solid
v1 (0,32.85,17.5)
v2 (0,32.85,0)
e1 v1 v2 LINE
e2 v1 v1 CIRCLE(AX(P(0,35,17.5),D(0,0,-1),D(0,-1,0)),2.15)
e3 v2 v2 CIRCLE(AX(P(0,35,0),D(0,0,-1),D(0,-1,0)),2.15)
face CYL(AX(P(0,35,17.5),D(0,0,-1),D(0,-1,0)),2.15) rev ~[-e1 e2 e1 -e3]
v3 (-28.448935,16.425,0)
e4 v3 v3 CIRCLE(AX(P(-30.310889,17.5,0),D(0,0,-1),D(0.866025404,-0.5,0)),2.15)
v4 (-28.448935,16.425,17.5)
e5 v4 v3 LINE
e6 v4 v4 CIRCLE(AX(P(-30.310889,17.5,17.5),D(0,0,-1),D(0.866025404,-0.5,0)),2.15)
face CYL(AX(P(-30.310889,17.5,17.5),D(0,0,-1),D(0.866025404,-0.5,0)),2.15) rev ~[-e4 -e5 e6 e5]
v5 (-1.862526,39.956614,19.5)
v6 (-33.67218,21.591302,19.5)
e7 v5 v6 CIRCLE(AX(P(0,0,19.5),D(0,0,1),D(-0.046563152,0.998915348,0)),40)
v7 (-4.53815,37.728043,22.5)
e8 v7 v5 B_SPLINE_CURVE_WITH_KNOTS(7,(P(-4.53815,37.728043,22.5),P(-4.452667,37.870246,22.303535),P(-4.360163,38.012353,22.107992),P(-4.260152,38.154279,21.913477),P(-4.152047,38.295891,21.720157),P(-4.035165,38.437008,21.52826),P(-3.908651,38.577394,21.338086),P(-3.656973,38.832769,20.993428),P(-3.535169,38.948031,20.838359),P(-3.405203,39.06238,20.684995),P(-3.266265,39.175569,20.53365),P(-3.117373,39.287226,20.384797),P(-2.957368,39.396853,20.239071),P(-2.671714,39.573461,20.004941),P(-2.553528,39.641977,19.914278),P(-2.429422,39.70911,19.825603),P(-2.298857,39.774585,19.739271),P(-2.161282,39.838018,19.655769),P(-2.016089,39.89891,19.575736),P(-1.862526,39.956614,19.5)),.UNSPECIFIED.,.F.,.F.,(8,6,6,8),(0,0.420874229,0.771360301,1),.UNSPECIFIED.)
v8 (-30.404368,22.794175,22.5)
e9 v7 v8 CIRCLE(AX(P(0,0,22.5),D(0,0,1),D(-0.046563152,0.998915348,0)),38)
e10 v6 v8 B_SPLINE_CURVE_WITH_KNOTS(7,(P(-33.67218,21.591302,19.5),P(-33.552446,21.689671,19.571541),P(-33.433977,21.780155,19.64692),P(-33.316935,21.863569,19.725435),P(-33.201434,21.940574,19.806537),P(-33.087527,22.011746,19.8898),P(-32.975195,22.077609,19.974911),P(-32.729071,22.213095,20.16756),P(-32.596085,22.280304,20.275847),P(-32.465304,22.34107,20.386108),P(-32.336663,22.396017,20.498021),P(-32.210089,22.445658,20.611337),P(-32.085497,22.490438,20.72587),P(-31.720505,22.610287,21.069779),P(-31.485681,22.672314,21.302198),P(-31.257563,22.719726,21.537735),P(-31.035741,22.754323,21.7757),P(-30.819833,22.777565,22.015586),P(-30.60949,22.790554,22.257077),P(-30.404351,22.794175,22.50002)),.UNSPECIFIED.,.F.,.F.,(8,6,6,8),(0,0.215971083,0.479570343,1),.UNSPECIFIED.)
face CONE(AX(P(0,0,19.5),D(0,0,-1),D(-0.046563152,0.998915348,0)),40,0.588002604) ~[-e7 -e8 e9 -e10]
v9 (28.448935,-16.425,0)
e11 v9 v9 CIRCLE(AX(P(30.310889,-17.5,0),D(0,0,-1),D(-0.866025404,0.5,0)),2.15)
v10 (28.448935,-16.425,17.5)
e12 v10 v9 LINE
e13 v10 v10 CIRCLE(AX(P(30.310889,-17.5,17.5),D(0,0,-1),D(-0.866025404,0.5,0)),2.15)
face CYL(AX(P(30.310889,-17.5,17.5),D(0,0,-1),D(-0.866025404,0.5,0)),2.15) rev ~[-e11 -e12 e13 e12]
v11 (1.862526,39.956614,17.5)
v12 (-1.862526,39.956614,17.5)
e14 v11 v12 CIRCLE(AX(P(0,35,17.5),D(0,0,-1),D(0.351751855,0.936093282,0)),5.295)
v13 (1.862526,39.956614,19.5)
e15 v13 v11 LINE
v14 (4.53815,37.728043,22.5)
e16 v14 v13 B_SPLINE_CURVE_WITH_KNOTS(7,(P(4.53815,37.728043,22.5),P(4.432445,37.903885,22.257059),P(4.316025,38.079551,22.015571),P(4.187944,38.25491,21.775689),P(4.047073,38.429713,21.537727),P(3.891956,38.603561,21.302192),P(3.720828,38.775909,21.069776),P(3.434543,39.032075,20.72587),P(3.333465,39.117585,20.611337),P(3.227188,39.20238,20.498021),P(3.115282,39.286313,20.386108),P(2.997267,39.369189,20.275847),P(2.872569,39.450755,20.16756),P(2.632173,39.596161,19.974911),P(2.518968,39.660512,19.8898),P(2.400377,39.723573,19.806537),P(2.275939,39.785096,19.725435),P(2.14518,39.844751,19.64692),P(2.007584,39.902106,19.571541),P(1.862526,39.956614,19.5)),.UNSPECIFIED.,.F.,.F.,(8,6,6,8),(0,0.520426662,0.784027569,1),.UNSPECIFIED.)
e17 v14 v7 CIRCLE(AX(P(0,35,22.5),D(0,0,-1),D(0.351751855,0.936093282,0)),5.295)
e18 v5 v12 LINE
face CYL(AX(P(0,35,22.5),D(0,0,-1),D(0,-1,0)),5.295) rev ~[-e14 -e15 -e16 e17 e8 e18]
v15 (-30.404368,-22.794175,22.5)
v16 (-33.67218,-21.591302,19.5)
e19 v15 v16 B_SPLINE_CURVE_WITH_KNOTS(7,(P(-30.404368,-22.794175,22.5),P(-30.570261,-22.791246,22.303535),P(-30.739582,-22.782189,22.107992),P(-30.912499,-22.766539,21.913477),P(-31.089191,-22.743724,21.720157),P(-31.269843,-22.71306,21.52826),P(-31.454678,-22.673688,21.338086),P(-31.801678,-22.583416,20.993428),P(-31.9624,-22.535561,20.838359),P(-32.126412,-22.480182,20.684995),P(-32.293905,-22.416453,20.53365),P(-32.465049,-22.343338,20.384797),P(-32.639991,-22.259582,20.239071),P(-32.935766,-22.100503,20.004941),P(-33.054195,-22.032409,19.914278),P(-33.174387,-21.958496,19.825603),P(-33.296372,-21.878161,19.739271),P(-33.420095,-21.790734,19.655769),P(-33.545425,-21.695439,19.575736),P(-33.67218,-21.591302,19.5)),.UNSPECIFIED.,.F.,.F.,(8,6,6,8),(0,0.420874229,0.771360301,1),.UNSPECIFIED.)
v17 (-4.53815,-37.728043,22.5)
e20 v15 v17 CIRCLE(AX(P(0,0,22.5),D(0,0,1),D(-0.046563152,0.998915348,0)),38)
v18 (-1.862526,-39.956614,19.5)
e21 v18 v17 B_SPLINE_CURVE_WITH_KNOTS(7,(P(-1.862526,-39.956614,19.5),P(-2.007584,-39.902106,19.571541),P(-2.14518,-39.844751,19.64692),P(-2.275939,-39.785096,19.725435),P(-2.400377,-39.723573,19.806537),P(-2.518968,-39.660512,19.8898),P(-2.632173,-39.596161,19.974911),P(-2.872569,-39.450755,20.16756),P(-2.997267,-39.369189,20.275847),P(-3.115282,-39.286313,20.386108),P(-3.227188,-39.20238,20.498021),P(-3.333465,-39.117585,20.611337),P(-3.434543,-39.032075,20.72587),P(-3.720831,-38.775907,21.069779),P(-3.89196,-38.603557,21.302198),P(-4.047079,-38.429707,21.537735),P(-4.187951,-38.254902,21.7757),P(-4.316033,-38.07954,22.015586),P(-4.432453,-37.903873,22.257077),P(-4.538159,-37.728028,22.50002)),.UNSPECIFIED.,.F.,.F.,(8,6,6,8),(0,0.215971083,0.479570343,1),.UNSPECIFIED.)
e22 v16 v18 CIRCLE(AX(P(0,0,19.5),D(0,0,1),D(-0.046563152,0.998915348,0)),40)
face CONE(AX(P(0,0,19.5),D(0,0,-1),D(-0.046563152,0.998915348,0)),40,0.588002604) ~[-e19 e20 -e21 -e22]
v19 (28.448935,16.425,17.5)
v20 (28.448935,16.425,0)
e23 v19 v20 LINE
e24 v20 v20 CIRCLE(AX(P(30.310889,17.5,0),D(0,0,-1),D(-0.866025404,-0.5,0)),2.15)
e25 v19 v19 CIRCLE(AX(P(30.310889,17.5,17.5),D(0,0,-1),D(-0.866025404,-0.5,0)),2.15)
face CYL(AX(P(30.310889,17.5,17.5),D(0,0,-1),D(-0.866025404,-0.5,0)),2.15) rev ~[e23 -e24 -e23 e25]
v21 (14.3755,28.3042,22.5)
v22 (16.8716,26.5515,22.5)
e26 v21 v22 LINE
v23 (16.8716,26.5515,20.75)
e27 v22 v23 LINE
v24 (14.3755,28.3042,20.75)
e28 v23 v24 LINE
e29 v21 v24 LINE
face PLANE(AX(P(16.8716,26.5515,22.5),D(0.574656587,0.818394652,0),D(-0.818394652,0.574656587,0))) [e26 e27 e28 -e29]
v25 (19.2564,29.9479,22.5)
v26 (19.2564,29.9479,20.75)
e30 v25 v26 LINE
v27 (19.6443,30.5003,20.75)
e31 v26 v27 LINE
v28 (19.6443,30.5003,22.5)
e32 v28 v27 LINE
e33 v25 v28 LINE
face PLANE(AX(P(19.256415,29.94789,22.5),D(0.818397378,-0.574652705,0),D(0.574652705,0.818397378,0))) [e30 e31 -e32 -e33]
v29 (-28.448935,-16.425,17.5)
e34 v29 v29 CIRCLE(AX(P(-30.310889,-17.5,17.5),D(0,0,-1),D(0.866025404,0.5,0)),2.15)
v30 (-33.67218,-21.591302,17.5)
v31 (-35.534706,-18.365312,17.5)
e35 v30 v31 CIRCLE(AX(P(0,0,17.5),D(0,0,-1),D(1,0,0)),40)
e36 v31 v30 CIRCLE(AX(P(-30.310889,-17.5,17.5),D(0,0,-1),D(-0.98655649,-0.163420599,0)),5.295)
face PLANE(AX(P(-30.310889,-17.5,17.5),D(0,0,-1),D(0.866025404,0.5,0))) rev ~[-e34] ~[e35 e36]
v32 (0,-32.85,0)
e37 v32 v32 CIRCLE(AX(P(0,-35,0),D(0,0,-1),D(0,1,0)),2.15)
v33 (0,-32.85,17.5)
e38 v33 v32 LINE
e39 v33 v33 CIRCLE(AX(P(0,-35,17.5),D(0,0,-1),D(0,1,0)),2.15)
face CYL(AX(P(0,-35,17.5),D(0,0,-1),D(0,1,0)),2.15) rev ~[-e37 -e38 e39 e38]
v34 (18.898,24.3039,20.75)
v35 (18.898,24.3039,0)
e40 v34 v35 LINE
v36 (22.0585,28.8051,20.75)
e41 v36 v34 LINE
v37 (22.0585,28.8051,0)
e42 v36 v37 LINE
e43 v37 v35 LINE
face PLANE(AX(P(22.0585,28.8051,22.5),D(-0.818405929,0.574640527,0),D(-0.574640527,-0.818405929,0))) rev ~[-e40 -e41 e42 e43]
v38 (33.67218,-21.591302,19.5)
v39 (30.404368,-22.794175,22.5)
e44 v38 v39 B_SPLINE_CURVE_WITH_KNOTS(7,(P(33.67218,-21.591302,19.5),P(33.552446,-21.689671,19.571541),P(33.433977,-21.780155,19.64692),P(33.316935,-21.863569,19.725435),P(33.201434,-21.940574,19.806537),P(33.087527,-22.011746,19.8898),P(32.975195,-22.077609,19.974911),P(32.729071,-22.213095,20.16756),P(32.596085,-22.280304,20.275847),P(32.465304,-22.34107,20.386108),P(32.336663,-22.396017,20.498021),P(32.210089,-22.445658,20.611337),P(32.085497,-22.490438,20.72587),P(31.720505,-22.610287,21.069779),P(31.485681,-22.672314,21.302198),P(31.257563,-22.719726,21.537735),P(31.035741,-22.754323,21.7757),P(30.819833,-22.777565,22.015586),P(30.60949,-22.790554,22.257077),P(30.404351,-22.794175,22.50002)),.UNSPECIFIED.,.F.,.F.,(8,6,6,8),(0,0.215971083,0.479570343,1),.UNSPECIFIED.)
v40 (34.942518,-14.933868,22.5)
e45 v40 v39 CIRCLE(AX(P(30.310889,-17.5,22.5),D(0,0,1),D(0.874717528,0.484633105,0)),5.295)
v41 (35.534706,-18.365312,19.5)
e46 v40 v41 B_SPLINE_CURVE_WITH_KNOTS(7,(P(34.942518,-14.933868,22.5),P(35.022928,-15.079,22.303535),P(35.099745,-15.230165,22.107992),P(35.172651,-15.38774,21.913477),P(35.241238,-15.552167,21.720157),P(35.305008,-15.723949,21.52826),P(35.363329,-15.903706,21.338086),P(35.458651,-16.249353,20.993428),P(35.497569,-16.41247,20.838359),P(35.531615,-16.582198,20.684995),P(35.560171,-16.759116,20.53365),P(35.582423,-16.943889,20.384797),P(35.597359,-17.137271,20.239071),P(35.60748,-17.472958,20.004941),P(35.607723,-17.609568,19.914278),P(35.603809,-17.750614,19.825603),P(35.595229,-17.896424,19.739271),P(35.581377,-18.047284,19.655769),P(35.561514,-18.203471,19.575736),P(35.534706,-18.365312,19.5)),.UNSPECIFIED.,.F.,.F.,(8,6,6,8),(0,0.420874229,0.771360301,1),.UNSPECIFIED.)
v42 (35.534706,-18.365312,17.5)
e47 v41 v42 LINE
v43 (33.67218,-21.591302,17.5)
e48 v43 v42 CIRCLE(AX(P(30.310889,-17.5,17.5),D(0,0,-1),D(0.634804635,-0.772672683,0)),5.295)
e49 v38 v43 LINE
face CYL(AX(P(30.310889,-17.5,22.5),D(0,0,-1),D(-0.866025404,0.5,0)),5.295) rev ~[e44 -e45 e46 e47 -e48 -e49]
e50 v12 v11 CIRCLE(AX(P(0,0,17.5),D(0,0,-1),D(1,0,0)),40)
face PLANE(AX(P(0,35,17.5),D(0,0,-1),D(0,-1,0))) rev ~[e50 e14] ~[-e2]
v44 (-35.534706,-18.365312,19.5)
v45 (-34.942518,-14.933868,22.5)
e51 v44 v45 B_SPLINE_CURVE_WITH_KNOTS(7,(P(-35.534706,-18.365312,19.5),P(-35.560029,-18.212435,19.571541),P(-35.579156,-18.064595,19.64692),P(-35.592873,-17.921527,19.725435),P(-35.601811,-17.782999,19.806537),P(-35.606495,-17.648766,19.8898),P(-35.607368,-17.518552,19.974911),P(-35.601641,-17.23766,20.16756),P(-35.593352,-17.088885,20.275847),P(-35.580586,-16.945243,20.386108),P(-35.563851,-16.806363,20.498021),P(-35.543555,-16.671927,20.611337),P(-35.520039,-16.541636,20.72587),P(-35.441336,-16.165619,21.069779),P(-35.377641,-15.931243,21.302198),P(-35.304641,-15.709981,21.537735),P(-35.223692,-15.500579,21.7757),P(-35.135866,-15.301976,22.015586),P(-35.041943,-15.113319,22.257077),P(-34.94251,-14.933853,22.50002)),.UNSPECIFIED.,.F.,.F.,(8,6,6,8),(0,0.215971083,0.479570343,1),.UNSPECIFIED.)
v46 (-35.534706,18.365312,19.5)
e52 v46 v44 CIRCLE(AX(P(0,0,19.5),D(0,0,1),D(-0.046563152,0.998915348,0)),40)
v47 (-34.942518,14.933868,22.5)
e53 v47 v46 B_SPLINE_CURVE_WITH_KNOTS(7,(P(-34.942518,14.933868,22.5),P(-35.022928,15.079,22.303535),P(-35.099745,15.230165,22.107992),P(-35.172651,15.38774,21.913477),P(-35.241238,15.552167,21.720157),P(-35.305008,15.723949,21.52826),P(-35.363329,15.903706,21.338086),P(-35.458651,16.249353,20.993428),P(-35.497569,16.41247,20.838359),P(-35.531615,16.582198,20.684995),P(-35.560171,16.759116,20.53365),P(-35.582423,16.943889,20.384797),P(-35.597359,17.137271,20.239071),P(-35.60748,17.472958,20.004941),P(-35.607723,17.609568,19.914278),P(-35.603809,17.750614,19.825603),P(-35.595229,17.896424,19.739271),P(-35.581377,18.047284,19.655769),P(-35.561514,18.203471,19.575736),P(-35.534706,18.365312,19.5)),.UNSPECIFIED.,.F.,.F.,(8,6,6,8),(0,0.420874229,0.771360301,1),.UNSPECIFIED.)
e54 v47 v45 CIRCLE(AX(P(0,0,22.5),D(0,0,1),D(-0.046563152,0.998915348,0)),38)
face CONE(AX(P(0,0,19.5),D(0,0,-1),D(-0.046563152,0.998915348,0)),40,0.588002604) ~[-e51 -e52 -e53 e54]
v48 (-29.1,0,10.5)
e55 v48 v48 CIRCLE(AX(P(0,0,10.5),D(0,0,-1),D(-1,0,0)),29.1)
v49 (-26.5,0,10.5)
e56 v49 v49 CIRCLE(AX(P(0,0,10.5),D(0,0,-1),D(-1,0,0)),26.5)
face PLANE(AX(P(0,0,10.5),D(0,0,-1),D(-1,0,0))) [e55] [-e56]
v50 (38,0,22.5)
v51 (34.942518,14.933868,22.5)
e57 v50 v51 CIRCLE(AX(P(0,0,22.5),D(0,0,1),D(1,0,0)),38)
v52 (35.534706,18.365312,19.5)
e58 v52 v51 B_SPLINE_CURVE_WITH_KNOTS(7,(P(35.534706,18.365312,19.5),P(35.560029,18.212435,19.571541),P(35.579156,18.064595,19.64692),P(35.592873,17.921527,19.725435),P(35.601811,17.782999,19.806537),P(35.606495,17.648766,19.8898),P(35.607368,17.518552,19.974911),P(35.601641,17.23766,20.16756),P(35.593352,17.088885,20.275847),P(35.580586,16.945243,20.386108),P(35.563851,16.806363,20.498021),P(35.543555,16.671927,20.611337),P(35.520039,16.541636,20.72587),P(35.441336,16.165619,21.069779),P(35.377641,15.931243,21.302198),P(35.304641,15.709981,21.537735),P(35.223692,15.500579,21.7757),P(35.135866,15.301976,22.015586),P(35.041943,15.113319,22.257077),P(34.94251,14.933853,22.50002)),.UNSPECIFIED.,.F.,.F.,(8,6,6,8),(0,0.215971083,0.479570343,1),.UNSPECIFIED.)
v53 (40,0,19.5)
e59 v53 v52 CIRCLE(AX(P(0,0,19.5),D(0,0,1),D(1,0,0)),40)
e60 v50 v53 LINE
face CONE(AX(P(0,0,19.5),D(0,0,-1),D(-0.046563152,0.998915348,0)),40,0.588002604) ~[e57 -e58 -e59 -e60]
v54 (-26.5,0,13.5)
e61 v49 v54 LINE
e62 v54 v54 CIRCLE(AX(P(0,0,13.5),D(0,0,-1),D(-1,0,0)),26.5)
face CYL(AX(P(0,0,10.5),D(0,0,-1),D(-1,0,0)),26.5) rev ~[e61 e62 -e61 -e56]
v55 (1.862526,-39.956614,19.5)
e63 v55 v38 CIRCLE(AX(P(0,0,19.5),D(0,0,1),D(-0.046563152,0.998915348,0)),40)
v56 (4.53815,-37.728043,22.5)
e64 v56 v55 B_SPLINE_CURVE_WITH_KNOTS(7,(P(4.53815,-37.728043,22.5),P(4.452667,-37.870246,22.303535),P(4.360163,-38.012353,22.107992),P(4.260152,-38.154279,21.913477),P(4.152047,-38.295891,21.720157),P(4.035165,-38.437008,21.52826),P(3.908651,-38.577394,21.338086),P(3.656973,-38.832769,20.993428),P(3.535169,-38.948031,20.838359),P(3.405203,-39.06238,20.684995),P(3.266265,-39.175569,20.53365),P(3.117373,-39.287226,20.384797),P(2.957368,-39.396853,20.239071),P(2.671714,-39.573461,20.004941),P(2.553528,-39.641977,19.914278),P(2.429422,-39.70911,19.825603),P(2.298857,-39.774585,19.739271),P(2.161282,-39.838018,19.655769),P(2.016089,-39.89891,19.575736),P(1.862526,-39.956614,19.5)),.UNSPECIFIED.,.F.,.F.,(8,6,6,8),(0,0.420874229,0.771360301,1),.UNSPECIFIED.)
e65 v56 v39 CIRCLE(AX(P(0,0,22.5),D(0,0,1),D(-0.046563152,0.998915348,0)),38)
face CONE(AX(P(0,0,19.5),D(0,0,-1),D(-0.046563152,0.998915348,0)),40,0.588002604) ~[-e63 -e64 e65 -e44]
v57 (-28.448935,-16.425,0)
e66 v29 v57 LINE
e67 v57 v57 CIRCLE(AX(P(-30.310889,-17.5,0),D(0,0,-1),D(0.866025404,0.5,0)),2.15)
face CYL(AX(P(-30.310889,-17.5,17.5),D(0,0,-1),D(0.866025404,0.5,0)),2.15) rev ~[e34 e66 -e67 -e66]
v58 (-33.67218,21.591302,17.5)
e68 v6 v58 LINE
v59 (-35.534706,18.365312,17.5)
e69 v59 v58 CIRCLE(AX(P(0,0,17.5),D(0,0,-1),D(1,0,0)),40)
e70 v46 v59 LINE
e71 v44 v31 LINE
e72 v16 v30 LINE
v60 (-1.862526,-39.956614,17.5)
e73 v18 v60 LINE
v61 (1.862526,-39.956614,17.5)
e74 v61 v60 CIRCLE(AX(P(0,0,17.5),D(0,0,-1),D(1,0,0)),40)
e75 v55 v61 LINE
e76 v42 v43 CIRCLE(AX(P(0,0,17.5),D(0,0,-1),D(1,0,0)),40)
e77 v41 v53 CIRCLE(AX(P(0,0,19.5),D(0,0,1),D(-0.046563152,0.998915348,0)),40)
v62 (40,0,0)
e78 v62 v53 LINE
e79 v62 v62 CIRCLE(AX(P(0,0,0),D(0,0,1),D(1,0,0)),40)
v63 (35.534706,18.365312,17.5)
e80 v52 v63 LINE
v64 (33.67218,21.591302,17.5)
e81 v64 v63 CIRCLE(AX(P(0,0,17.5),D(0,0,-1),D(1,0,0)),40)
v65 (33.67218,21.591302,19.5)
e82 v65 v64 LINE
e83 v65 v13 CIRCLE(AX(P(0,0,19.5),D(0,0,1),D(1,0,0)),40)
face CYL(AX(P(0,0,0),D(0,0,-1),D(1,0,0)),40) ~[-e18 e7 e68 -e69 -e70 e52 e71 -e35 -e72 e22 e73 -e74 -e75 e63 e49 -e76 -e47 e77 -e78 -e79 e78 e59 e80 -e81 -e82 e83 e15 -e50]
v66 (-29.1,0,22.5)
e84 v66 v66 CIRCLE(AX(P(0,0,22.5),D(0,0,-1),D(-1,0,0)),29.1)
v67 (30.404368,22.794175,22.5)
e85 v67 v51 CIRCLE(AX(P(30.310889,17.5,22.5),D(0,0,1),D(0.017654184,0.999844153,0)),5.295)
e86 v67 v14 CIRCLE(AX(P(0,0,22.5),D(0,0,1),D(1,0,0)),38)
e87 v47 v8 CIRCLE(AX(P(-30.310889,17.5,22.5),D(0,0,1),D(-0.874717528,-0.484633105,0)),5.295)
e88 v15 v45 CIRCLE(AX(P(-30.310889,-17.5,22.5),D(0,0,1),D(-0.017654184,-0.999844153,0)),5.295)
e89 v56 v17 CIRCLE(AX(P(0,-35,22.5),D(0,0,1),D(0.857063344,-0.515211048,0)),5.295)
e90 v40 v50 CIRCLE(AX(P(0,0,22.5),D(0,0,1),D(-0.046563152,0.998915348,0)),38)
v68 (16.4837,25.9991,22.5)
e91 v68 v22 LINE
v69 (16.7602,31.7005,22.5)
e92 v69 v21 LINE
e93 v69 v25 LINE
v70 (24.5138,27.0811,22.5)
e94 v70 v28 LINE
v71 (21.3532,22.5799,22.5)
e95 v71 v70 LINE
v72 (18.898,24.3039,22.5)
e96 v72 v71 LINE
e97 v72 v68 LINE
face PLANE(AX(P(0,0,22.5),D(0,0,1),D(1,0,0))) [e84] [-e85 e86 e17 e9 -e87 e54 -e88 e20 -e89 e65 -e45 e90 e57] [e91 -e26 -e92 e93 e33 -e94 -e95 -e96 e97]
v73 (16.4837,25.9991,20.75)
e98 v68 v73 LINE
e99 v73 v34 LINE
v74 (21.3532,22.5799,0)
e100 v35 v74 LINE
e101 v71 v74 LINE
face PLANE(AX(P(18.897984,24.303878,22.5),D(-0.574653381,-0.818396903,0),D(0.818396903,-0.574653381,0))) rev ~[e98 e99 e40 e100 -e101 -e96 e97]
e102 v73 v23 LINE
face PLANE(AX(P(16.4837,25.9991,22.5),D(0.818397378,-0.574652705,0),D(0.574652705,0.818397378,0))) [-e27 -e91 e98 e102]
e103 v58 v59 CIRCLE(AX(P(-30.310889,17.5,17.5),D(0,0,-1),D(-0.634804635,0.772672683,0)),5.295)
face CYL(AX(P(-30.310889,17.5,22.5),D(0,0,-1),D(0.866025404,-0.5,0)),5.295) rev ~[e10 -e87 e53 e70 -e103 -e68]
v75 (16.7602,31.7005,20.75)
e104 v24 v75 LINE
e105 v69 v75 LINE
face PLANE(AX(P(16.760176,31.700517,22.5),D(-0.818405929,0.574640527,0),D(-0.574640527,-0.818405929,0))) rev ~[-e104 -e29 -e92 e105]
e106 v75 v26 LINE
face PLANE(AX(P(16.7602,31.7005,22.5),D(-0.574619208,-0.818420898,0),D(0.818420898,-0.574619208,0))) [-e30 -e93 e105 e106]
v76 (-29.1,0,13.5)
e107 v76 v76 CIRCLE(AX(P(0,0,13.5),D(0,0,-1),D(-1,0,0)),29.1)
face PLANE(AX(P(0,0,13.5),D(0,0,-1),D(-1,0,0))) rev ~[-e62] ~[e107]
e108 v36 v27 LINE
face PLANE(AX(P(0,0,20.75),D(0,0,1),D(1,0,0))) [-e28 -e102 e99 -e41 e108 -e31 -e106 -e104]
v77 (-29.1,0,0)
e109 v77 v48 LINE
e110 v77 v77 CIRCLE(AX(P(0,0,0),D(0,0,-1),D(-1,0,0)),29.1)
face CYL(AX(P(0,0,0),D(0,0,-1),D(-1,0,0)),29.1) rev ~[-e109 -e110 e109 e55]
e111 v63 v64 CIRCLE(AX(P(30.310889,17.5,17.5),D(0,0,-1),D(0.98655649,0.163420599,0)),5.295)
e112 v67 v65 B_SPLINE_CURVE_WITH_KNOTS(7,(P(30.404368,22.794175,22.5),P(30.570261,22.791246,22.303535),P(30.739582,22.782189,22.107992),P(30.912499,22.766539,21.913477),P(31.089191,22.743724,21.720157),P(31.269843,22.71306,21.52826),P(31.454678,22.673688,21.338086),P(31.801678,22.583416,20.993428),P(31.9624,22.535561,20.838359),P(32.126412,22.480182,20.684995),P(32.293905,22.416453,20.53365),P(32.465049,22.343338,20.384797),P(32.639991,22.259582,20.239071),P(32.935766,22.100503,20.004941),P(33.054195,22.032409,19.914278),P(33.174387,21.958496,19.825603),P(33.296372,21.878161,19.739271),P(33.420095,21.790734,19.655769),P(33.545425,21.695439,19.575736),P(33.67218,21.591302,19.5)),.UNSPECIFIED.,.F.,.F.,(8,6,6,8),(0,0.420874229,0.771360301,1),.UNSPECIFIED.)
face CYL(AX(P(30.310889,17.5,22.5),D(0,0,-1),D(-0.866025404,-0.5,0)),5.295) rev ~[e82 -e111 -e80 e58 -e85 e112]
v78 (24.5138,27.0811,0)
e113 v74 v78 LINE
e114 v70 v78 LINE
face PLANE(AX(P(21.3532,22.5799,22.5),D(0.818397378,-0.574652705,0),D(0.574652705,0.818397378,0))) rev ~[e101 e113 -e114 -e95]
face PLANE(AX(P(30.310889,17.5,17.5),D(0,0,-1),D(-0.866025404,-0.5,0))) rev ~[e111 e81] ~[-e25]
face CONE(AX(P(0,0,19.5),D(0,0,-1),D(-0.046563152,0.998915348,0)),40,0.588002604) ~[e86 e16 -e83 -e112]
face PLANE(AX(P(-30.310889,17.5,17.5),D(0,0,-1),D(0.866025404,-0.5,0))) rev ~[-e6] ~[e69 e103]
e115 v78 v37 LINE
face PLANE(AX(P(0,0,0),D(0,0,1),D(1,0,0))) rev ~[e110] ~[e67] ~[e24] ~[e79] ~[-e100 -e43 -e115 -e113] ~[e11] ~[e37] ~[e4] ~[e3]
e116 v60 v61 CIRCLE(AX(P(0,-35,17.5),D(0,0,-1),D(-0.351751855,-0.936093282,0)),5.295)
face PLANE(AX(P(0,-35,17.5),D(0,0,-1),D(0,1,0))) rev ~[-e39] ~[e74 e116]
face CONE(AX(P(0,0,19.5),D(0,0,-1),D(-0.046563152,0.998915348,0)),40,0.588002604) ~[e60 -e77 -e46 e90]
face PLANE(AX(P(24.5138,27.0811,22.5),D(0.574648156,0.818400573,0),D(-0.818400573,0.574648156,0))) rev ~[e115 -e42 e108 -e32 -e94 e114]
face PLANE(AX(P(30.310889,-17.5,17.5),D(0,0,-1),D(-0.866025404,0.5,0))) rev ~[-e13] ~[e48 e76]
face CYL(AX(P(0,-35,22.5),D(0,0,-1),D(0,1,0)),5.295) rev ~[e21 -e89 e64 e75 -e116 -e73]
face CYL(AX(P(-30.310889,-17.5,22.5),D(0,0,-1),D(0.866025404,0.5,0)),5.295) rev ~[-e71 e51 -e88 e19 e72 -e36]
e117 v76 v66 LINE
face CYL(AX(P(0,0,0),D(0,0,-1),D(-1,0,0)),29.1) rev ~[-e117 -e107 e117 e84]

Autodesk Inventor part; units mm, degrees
ref_plane "YZ Plane" through (0, 0, 0) normal (1, 0, 0) x (0, 1, 0)
ref_plane "XZ Plane" through (0, 0, 0) normal (0, 1, 0) x (-1, 0, 0)
ref_plane "XY Plane" through (0, 0, 0) normal (0, 0, 1) x (1, 0, 0)
sketch "Sketch1" plane through (0, 0, 0) normal (0, 0, 1) x (1, 0, 0)
  circle A0 centre (0, 0) radius 40
  dimension "d0" = 80
extrude "Extrusion1" add sketch "Sketch1" along normal blind 22.5
sketch "Sketch2" plane through (0, 0, 22.5) normal (0, 0, 1) x (1, 0, 0)
  point P0 (0, 0)
  point P1 (0, 35)
  dimension "d3" = 35
hole "Hole1" at (0, 35, 22.5) direction (0, 0, -1) diameter 4.3 end through all counterbore diameter 10.59 counterbore depth 5 clearance for "Hex Head Machine Screw" size "M4" standard "Ansi Metric M Profile"
chamfer "Chamfer1" distance 2 distance2 3 2 edges at (-27.6179, -28.9353, 22.5) (28.9353, 27.6179, 22.5) measured on face at (-2.7418, -16.4668, 22.5)
pattern_circular "Circular Pattern1" count 6 over 360 about axis through (0, 0, 0) along (0, 0, 1) of "Hole1"
sketch "Sketch3" plane through (0, 0, 0) normal (0, 0, -1) x (-1, 0, 0)
  circle A0 centre (0, 0) radius 29.1
  dimension "d17" = 58.2
extrude "Extrusion2" cut sketch "Sketch3" against normal through all
ref_plane "Work Plane1" through (0, 0, 10.5) normal (0, 0, -1) x (-1, 0, 0)
sketch "Sketch4" plane through (0, 0, 10.5) normal (0, 0, -1) x (-1, 0, 0)
  circle A0 centre (0, 0) radius 29.5
  circle A1 centre (0, 0) radius 26.5
  dimension "d21" = 53
  dimension "d22" = 59
extrude "Extrusion3" add sketch "Sketch4" against normal blind 3
sketch "Sketch5" plane through (0, 0, 22.5) normal (0, 0, 1) x (1, 0, 0)
  arc A0 (33.6722, 21.5913) -> (1.8625, 39.9566) centre (0, 0) ccw projected
  line L0 (0, 0) -> (40, 0) construction
  line L1 (21.3532, 22.5799) -> (24.5138, 27.0811)
  line L2 (24.5138, 27.0811) -> (17.1481, 32.253)
  line L3 (17.1481, 32.253) -> (13.9876, 27.7518)
  line L4 (13.9876, 27.7518) -> (21.3532, 22.5799)
  line L5 (21.3532, 22.5799) -> (17.1481, 32.253) construction
  line L6 (24.5138, 27.0811) -> (13.9876, 27.7518) construction
  line L7 (16.4837, 25.9991) -> (19.6443, 30.5003)
  line L8 (22.0585, 28.8051) -> (18.898, 24.3039)
  line L9 (14.3755, 28.3042) -> (16.7602, 31.7005)
  line L10 (16.7602, 31.7005) -> (19.2564, 29.9479)
  line L11 (19.2564, 29.9479) -> (16.8716, 26.5515)
  line L12 (16.8716, 26.5515) -> (14.3755, 28.3042)
  line L13 (19.2507, 27.4165) -> (15.5679, 30.0024)
  line L14 (16.8716, 26.5515) -> (16.7602, 31.7005)
  line L15 (14.3755, 28.3042) -> (19.2564, 29.9479)
  line L16 (0, 0) -> (16.8159, 29.126)
  line L17 (0, 0) -> (19.2507, 27.4165)
  point P0 (16.8716, 26.5515)
  dimension "d26" = 9
  dimension "d27" = 5.5
  dimension "d29" = 33.5
  dimension "d30" = 3.05
  dimension "d36" = 3
  dimension "d41" = 4.15
  dimension "d42" = 60
extrude "Extrusion4" cut sketch "Sketch5" against normal blind 1.75 contours L4 L17 L13 L7 L2 L8 | L4 L7 L13 L17 | L15 L14 L10 | L7 L13 L15 | L14 L13 L7 | L12 L16 L14 | L14 L13 L3 | L15 L3 L13 | L16 L12 L15
extrude "Extrusion7" cut sketch "Sketch5" against normal through all contours L4 L8 L2 L1
properties part number "Ring Cover Top"
